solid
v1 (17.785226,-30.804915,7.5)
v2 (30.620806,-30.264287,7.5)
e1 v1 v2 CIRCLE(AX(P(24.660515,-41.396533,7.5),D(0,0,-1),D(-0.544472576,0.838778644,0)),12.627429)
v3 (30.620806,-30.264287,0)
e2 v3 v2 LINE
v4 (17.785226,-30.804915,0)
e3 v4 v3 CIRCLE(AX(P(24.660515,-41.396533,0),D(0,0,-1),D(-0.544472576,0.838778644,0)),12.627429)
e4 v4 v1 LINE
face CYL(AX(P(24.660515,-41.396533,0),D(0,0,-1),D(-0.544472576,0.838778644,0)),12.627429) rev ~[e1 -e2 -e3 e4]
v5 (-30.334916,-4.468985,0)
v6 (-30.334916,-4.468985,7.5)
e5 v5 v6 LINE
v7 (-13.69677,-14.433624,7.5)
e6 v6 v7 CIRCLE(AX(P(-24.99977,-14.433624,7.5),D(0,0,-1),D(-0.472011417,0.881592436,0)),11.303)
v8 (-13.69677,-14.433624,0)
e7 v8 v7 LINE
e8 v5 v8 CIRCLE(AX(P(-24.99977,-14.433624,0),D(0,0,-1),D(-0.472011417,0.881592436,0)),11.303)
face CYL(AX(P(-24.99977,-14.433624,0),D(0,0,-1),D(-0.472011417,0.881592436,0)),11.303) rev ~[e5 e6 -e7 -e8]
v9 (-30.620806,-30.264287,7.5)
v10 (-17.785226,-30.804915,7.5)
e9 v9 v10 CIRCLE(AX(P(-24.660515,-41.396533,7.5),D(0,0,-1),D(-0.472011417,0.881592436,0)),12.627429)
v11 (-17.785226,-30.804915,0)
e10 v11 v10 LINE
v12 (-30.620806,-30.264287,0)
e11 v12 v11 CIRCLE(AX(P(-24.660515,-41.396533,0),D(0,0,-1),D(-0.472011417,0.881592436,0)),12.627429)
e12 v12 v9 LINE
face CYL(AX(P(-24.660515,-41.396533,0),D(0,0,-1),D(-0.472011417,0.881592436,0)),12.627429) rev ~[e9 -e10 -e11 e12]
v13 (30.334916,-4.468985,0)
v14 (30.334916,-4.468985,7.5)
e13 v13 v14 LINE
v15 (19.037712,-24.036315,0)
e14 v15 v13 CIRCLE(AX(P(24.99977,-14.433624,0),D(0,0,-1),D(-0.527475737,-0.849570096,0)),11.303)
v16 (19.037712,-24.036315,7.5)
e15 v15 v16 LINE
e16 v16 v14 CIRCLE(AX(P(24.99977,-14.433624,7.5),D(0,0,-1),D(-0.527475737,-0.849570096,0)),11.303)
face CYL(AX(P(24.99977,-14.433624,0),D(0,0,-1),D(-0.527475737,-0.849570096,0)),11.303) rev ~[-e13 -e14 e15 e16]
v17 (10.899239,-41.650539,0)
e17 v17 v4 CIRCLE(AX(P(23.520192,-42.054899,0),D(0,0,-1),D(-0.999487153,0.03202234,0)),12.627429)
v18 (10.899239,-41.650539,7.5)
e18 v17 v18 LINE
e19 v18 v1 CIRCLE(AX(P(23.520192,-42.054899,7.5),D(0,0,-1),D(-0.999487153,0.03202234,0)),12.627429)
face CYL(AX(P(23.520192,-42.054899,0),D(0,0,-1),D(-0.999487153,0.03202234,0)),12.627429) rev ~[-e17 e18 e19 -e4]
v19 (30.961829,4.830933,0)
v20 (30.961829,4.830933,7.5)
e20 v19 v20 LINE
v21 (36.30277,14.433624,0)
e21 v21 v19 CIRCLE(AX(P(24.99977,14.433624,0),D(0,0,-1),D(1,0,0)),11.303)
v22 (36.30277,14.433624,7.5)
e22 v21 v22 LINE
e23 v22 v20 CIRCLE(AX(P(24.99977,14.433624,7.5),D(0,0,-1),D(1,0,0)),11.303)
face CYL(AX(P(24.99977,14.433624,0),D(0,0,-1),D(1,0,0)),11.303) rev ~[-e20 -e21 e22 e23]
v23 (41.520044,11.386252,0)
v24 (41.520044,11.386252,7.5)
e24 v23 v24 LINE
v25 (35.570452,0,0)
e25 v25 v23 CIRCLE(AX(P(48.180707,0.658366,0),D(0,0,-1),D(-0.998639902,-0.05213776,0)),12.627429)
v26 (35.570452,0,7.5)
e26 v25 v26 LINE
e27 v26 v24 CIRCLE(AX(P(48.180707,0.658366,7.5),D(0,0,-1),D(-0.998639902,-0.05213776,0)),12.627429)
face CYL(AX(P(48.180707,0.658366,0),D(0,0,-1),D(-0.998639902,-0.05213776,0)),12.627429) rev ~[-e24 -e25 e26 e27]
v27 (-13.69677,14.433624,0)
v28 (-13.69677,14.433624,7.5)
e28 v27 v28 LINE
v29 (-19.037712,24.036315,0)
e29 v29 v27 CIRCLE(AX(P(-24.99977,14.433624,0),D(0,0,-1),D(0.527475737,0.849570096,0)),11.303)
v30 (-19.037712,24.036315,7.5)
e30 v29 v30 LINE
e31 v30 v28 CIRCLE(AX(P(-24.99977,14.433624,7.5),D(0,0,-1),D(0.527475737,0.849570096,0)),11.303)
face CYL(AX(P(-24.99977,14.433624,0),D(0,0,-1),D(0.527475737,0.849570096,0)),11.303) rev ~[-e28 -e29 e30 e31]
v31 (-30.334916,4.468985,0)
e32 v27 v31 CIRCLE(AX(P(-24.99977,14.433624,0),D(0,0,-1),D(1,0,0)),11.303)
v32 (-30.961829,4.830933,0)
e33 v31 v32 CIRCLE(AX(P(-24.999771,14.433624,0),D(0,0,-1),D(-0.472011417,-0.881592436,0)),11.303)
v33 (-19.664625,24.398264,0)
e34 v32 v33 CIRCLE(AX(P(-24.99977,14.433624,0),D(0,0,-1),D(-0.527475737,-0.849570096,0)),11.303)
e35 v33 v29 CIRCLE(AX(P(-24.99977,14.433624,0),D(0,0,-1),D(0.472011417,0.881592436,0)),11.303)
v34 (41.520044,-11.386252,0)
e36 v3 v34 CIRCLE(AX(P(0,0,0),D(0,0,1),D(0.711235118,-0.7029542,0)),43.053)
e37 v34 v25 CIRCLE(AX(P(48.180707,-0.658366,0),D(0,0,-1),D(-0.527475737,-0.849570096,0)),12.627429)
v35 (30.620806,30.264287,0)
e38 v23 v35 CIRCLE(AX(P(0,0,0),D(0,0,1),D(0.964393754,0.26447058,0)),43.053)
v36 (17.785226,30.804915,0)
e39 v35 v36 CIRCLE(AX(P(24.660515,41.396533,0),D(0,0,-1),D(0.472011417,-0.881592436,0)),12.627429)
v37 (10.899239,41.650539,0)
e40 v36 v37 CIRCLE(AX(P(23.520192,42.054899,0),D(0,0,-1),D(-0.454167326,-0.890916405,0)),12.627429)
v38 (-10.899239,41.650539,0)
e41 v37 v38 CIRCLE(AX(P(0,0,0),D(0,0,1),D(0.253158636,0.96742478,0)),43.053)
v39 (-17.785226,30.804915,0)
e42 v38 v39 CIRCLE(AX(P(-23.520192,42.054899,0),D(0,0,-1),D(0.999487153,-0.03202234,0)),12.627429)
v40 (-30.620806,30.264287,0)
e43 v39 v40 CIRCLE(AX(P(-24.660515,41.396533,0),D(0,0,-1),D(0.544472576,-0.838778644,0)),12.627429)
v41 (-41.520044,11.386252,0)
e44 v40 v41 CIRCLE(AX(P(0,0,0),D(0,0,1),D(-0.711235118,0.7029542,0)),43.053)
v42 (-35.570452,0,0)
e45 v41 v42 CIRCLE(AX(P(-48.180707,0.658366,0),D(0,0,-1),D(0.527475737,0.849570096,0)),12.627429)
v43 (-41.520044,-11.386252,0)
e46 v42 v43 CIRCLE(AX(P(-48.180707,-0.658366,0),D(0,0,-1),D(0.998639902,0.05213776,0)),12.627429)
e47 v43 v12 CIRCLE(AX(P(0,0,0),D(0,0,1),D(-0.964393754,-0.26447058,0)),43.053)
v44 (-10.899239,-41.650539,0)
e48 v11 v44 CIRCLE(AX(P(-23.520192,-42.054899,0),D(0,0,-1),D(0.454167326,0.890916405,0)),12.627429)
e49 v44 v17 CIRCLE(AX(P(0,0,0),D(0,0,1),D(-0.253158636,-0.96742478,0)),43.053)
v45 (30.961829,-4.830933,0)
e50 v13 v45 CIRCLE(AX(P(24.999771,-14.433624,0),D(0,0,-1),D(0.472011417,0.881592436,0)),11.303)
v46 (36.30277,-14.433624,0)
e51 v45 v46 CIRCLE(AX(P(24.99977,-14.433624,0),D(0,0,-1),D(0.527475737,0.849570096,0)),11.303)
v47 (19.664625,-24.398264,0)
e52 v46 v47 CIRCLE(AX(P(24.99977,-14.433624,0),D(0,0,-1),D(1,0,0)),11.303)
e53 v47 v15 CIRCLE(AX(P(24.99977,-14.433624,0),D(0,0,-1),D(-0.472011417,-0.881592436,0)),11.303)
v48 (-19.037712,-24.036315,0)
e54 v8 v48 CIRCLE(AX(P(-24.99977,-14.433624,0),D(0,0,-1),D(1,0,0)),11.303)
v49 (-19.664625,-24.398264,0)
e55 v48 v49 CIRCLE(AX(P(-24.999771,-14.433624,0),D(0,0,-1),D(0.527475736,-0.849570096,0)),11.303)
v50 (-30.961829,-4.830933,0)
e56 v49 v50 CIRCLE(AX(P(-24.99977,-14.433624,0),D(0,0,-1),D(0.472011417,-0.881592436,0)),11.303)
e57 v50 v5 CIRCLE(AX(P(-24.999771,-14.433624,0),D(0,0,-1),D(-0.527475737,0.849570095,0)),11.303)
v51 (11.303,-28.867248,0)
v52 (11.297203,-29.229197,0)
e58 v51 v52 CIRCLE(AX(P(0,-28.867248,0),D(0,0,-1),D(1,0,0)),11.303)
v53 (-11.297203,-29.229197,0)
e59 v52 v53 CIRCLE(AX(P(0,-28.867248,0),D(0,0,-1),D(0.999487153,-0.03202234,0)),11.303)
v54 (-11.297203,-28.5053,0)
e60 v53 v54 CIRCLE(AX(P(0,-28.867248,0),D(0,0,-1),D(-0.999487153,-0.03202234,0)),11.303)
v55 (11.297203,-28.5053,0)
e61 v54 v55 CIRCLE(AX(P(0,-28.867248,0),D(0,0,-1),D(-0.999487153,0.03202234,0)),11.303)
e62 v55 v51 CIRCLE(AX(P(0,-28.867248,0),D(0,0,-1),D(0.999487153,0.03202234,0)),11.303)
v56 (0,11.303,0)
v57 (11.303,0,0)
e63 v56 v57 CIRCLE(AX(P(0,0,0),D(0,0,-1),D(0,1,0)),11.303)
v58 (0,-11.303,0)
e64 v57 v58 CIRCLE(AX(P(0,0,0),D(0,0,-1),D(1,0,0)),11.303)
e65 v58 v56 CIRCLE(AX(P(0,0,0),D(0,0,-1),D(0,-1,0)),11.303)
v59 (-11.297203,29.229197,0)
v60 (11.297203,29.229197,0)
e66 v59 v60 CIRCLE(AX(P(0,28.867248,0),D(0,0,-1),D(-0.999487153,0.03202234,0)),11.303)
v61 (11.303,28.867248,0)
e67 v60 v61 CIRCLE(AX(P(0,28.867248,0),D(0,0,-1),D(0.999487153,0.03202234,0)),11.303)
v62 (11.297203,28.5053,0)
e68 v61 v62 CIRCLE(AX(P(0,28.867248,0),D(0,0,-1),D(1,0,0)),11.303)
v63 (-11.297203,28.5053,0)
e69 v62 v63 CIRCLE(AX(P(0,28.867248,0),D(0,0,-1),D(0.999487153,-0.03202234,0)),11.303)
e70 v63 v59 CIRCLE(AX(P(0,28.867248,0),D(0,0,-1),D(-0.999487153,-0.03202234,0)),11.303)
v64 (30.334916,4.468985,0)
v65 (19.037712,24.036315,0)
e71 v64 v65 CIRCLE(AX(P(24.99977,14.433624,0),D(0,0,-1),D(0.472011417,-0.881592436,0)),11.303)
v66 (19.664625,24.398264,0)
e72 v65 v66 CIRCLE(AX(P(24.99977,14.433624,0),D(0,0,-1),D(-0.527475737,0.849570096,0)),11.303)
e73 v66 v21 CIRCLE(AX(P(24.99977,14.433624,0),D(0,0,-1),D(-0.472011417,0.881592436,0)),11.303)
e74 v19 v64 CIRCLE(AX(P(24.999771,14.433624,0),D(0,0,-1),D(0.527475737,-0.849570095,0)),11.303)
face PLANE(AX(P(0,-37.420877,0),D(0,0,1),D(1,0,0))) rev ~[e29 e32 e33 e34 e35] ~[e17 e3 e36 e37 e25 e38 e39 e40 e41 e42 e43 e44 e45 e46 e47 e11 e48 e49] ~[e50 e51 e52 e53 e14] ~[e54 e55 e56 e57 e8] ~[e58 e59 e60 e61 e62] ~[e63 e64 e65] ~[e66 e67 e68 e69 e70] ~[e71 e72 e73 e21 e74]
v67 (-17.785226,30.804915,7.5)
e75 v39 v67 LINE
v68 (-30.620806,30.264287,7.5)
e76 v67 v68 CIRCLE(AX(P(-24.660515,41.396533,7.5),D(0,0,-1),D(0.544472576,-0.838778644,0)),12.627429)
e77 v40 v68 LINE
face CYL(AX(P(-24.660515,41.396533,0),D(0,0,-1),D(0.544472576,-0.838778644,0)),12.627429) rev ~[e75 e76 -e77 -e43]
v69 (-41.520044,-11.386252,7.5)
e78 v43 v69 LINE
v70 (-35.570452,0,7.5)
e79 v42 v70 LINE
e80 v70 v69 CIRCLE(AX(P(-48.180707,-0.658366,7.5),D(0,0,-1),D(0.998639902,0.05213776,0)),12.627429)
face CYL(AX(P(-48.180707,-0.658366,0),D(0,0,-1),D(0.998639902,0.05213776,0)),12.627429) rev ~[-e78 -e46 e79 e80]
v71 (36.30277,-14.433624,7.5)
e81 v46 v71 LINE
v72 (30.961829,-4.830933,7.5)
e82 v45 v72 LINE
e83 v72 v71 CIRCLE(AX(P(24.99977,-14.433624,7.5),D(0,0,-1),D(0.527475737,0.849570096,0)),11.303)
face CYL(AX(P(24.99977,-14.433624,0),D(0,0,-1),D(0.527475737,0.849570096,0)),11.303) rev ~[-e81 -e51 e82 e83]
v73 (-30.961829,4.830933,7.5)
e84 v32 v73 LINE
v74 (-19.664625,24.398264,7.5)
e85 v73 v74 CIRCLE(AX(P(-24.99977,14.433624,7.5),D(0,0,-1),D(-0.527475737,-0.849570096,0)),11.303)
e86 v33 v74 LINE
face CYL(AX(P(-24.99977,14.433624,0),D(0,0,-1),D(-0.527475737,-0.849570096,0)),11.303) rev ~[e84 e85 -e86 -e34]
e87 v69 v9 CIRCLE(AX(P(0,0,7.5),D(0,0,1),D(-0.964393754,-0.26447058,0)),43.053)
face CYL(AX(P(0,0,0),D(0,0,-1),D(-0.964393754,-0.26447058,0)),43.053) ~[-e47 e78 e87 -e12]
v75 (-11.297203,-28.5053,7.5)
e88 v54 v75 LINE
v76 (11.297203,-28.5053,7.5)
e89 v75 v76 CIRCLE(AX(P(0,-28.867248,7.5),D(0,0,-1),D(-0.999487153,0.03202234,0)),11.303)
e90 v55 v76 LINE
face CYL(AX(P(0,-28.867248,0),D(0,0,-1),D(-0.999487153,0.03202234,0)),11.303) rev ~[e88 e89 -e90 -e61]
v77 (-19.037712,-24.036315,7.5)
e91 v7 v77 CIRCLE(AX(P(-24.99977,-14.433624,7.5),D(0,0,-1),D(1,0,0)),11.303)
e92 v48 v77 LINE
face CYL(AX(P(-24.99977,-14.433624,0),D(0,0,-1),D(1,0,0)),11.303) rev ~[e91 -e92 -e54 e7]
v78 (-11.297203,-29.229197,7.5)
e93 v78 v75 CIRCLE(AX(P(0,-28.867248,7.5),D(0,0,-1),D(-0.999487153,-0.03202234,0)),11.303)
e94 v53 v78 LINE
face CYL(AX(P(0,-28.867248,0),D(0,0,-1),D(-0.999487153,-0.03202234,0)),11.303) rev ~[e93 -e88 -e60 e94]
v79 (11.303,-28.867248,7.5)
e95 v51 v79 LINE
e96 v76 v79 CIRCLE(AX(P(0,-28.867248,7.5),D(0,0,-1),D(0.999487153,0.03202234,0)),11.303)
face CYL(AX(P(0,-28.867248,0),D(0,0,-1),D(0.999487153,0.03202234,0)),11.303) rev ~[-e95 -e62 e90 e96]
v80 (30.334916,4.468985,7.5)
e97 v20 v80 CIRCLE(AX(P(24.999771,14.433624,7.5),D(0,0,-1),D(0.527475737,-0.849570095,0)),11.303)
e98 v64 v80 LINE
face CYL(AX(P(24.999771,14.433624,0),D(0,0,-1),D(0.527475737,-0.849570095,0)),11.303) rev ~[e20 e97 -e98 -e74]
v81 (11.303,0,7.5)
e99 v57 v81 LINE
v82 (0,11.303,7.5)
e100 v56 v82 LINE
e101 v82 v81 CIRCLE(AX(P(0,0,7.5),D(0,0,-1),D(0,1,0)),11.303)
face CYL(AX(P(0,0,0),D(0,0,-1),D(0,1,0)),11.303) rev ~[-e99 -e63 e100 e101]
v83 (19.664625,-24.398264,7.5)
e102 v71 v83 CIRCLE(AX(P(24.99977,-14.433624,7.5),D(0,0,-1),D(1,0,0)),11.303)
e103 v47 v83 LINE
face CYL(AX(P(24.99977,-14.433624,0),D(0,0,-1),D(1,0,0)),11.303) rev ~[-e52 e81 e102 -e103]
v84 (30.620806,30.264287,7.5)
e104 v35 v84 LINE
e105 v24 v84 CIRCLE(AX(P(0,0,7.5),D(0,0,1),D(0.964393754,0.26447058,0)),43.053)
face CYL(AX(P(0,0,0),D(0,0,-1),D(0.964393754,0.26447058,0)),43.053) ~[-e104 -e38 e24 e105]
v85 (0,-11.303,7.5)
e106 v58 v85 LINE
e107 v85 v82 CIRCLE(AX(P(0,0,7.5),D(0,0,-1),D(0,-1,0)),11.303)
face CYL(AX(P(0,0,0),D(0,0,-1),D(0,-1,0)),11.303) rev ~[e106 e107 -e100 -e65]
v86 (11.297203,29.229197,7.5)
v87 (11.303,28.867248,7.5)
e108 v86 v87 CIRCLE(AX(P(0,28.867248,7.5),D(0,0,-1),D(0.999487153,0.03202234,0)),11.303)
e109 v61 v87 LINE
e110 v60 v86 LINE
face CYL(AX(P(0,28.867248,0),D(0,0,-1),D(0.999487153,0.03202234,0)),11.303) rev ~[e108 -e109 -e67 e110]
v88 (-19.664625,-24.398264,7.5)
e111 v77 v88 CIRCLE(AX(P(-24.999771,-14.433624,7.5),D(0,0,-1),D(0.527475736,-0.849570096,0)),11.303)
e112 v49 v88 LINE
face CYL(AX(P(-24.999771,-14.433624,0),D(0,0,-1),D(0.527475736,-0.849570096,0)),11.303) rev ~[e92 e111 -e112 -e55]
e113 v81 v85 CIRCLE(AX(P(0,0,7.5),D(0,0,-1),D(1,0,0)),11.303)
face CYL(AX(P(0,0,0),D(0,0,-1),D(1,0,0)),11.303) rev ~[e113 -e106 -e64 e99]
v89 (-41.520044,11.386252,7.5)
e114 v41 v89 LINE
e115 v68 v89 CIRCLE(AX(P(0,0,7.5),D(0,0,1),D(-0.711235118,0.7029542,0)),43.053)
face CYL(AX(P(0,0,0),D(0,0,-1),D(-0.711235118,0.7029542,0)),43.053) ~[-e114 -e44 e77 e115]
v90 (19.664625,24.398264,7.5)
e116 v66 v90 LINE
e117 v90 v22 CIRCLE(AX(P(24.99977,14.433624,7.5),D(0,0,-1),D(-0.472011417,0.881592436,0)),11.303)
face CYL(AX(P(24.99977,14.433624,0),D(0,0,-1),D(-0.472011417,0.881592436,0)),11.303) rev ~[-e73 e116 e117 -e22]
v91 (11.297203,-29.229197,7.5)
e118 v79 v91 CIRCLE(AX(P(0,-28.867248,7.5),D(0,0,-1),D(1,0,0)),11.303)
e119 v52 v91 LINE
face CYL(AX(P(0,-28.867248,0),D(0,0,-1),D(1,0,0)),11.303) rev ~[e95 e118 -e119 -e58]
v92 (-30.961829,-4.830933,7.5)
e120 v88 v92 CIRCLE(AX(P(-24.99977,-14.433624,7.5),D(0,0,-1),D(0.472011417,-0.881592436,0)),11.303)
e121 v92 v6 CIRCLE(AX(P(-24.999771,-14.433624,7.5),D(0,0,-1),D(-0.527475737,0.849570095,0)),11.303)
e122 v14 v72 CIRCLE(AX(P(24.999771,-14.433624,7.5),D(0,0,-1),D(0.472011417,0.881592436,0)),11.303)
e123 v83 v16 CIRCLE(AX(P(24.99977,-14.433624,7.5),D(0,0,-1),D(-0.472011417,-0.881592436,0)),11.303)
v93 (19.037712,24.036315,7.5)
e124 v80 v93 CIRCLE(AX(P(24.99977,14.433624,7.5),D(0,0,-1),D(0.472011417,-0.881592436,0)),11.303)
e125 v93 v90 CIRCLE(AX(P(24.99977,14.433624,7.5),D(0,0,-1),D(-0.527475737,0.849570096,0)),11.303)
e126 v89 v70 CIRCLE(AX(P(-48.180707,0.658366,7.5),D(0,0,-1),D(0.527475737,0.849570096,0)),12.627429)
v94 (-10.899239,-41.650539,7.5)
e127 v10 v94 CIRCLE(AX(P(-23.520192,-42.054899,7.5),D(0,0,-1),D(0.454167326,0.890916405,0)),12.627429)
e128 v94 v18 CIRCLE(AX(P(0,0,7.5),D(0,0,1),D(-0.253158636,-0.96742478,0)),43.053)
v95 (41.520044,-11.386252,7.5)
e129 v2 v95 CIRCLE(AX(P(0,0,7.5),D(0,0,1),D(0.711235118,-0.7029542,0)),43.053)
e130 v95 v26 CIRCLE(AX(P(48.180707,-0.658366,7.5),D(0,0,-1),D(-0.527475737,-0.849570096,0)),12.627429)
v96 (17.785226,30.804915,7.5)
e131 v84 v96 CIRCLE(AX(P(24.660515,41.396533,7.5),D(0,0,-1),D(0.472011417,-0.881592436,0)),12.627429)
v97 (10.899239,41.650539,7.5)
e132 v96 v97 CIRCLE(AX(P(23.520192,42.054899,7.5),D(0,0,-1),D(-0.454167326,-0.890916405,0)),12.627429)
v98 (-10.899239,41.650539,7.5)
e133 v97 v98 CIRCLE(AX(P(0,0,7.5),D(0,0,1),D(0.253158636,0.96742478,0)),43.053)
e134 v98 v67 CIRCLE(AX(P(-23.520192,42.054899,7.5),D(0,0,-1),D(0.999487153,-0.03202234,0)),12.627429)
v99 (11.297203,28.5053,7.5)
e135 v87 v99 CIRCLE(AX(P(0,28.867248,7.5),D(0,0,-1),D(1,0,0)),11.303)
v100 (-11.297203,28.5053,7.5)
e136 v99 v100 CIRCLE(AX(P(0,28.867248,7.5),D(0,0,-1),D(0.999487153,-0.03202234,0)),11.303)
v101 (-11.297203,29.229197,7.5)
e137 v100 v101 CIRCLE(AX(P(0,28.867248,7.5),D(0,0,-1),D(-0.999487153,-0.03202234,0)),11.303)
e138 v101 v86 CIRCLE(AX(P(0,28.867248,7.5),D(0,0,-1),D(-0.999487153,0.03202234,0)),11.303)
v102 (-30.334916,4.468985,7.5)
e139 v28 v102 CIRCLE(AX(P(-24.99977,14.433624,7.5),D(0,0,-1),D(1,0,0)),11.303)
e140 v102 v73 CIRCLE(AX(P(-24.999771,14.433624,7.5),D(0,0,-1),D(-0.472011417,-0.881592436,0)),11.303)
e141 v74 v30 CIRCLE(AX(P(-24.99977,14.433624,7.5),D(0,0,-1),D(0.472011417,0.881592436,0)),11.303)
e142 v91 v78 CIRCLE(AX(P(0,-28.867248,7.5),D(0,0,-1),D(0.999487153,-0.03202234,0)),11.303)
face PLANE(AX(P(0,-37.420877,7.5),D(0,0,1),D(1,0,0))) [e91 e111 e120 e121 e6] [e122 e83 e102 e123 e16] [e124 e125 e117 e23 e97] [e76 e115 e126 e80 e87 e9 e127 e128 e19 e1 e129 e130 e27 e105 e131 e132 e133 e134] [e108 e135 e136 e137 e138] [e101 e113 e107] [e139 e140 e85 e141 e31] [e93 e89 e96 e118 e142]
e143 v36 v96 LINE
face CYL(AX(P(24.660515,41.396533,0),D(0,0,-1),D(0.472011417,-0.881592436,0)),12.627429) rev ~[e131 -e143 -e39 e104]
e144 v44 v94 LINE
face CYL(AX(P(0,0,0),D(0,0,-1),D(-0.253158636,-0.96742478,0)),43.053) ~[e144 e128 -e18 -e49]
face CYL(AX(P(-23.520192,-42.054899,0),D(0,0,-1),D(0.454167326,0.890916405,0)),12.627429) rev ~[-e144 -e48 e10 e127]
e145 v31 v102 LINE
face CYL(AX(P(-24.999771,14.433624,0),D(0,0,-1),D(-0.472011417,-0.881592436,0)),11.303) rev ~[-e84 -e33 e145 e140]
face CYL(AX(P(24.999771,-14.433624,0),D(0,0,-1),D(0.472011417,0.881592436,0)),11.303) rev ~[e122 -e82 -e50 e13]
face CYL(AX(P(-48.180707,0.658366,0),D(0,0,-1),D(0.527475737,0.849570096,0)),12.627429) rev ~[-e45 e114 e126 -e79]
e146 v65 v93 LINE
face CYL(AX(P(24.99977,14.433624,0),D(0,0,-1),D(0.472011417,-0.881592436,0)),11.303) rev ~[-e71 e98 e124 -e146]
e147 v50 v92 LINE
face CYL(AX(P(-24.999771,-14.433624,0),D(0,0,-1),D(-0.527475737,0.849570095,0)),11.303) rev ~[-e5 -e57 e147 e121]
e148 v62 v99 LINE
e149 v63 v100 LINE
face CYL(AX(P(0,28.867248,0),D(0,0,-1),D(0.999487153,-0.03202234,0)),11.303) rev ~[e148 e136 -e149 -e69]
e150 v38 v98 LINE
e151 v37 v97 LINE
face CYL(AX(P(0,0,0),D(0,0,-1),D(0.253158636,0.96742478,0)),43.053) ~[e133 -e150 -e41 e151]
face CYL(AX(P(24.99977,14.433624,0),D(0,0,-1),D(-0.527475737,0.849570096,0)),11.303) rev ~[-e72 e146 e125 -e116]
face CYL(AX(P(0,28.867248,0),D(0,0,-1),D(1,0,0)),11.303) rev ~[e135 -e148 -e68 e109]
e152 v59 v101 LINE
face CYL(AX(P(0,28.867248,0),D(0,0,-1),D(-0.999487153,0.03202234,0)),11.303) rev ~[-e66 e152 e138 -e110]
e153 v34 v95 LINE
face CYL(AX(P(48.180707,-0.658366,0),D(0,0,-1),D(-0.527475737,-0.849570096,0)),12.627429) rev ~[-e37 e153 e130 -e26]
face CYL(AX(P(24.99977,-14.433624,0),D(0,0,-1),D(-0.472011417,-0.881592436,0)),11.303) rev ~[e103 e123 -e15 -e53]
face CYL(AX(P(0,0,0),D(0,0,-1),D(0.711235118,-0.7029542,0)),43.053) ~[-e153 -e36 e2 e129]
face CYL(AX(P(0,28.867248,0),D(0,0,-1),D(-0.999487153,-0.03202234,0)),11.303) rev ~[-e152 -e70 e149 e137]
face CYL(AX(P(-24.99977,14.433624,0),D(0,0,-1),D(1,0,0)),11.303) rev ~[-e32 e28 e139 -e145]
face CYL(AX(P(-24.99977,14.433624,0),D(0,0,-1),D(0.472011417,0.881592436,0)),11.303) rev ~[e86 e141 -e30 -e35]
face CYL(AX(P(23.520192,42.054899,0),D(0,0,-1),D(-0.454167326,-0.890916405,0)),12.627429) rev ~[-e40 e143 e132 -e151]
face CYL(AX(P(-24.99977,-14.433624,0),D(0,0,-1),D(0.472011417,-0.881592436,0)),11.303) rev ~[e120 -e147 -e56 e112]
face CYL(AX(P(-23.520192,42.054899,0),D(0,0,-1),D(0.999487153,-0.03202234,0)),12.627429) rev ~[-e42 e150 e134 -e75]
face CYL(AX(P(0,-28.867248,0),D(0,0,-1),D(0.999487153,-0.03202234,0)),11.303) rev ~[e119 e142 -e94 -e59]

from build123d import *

# Parameters (mm, degrees)
F1_DEPTH = 7.5


with BuildPart() as f1:
    # F0 (on Top) → F1 (new body)
    with BuildSketch(Plane.XY):
        with BuildLine():
            Line((10.8992387595, -41.6505390537), (11.2972032945, -29.229196955))
            ThreePointArc((11.2972032945, -29.229196955), (0, -40.1702484457), (-11.2972032945, -29.229196955))
            Line((-11.2972032945, -29.229196955), (-10.8992387595, -41.6505390537))
            ThreePointArc((-10.8992387595, -41.6505390537), (0, -43.053), (10.8992387595, -41.6505390537))
        make_face()
        with BuildLine():
            Line((11.2972032945, -19.5673300895), (3.0451878052, -14.8030267253))
            ThreePointArc((3.0451878052, -14.8030267253), (0, -15.113), (-3.0451878052, -14.8030267253))
            Line((-3.0451878052, -14.8030267253), (-11.2972032945, -19.5673300895))
            Line((-11.2972032945, -19.5673300895), (-11.2972032945, -28.5052999365))
            ThreePointArc((-11.2972032945, -28.5052999365), (0, -17.5642484457), (11.2972032945, -28.5052999365))
            Line((11.2972032945, -28.5052999365), (11.2972032945, -19.5673300895))
        make_face()
        with BuildLine():
            Line((-11.2972032945, -28.5052999365), (-11.2972032945, -19.5673300895))
            Line((-11.2972032945, -19.5673300895), (-19.0377122402, -24.036315013))
            ThreePointArc((-19.0377122402, -24.036315013), (-19.3482704914, -24.2223093618), (-19.664625448, -24.3982635222))
            Line((-19.664625448, -24.3982635222), (-30.6208055221, -30.2642871745))
            ThreePointArc((-30.6208055221, -30.2642871745), (-24.1291251272, -28.7802900435), (-17.7852261309, -30.8049152829))
            ThreePointArc((-17.7852261309, -30.8049152829), (-12.8598997424, -35.286580353), (-10.8992387595, -41.6505390537))
            Line((-10.8992387595, -41.6505390537), (-11.2972032945, -29.229196955))
            ThreePointArc((-11.2972032945, -29.229196955), (-11.303, -28.8672484457), (-11.2972032945, -28.5052999365))
        make_face()
        with BuildLine():
            Line((-11.2972032945, -19.5673300895), (-3.0451878052, -14.8030267253))
            ThreePointArc((-3.0451878052, -14.8030267253), (-7.5565, -13.0882419274), (-11.2972032945, -10.0387233612))
            Line((-11.2972032945, -10.0387233612), (-11.2972032945, -19.5673300895))
        make_face()
        with BuildLine():
            Line((11.2972032945, -19.5673300895), (11.2972032945, -10.0387233612))
            ThreePointArc((11.2972032945, -10.0387233612), (7.5565, -13.0882419274), (3.0451878052, -14.8030267253))
            Line((3.0451878052, -14.8030267253), (11.2972032945, -19.5673300895))
        make_face()
        with BuildLine():
            ThreePointArc((14.3423910996, -4.7643033641), (14.9191039558, -2.413111302), (15.113, 0))
            ThreePointArc((15.113, 0), (14.9191039558, 2.413111302), (14.3423910996, 4.7643033641))
            ThreePointArc((14.3423910996, 4.7643033641), (13.0882419274, 7.5565), (11.2972032945, 10.0387233612))
            ThreePointArc((11.2972032945, 10.0387233612), (7.5565, 13.0882419274), (3.0451878052, 14.8030267253))
            ThreePointArc((3.0451878052, 14.8030267253), (0, 15.113), (-3.0451878052, 14.8030267253))
            ThreePointArc((-3.0451878052, 14.8030267253), (-7.5565, 13.0882419274), (-11.2972032945, 10.0387233612))
            ThreePointArc((-11.2972032945, 10.0387233612), (-13.0882419274, 7.5565), (-14.3423910996, 4.7643033641))
            ThreePointArc((-14.3423910996, 4.7643033641), (-15.113, 0), (-14.3423910996, -4.7643033641))
            ThreePointArc((-14.3423910996, -4.7643033641), (-13.0882419274, -7.5565), (-11.2972032945, -10.0387233612))
            ThreePointArc((-11.2972032945, -10.0387233612), (-7.5565, -13.0882419274), (-3.0451878052, -14.8030267253))
            ThreePointArc((-3.0451878052, -14.8030267253), (0, -15.113), (3.0451878052, -14.8030267253))
            ThreePointArc((3.0451878052, -14.8030267253), (7.5565, -13.0882419274), (11.2972032945, -10.0387233612))
            ThreePointArc((11.2972032945, -10.0387233612), (13.0882419274, -7.5565), (14.3423910996, -4.7643033641))
        make_face()
        with BuildLine():
            ThreePointArc((0, 11.303), (7.9924279478, 7.9924279478), (11.303, 0))
            ThreePointArc((11.303, 0), (7.9924279478, -7.9924279478), (0, -11.303))
            ThreePointArc((0, -11.303), (-11.303, 0), (0, 11.303))
        make_face(mode=Mode.SUBTRACT)
        with BuildLine():
            Line((-11.2972032945, -19.5673300895), (-11.2972032945, -10.0387233612))
            ThreePointArc((-11.2972032945, -10.0387233612), (-13.0882419274, -7.5565), (-14.3423910996, -4.7643033641))
            Line((-14.3423910996, -4.7643033641), (-22.5944065889, 0))
            Line((-22.5944065889, 0), (-30.3349155347, -4.4689849235))
            ThreePointArc((-30.3349155347, -4.4689849235), (-19.1922467258, -4.736692919), (-13.6967704914, -14.4336242229))
            ThreePointArc((-13.6967704914, -14.4336242229), (-15.1218417254, -19.927651188), (-19.0377122402, -24.036315013))
            Line((-19.0377122402, -24.036315013), (-11.2972032945, -19.5673300895))
        make_face()
        with BuildLine():
            Line((19.0377122402, -24.036315013), (11.2972032945, -19.5673300895))
            Line((11.2972032945, -19.5673300895), (11.2972032945, -28.5052999365))
            ThreePointArc((11.2972032945, -28.5052999365), (11.3015507307, -28.6862509836), (11.303, -28.8672484457))
            ThreePointArc((11.303, -28.8672484457), (11.3015507307, -29.0482459079), (11.2972032945, -29.229196955))
            Line((11.2972032945, -29.229196955), (10.8992387595, -41.6505390537))
            ThreePointArc((10.8992387595, -41.6505390537), (12.8598997424, -35.286580353), (17.7852261309, -30.8049152829))
            ThreePointArc((17.7852261309, -30.8049152829), (24.1291251272, -28.7802900435), (30.6208055221, -30.2642871745))
            Line((30.6208055221, -30.2642871745), (19.664625448, -24.3982635222))
            ThreePointArc((19.664625448, -24.3982635222), (19.3482704914, -24.2223093619), (19.0377122402, -24.036315013))
        make_face()
        with BuildLine():
            Line((22.5944065889, 0), (14.3423910996, -4.7643033641))
            ThreePointArc((14.3423910996, -4.7643033641), (13.0882419274, -7.5565), (11.2972032945, -10.0387233612))
            Line((11.2972032945, -10.0387233612), (11.2972032945, -19.5673300895))
            Line((11.2972032945, -19.5673300895), (19.0377122402, -24.036315013))
            ThreePointArc((19.0377122402, -24.036315013), (15.2110853524, -8.7821242229), (30.3349155347, -4.4689849235))
            Line((30.3349155347, -4.4689849235), (22.5944065889, 0))
        make_face()
        with BuildLine():
            Line((41.5200442816, -11.3862518792), (30.9618287425, -4.8309334328))
            ThreePointArc((30.9618287425, -4.8309334328), (34.8776992574, -8.9395972577), (36.3027704914, -14.4336242229))
            ThreePointArc((36.3027704914, -14.4336242229), (30.8072942569, -24.1305555268), (19.664625448, -24.3982635222))
            Line((19.664625448, -24.3982635222), (30.6208055221, -30.2642871745))
            ThreePointArc((30.6208055221, -30.2642871745), (37.2849917091, -21.5265), (41.5200442816, -11.3862518792))
        make_face()
        with BuildLine():
            Line((-30.6208055221, -30.2642871745), (-19.664625448, -24.3982635222))
            ThreePointArc((-19.664625448, -24.3982635222), (-34.7884556304, -20.0851242229), (-30.9618287425, -4.8309334328))
            Line((-30.9618287425, -4.8309334328), (-41.5200442816, -11.3862518792))
            ThreePointArc((-41.5200442816, -11.3862518792), (-37.2849917091, -21.5265), (-30.6208055221, -30.2642871745))
        make_face()
        with BuildLine():
            Line((-30.3349155347, -4.4689849235), (-22.5944065889, 0))
            Line((-22.5944065889, 0), (-30.3349155347, 4.4689849235))
            ThreePointArc((-30.3349155347, 4.4689849235), (-30.6512704914, 4.6449390839), (-30.9618287425, 4.8309334328))
            Line((-30.9618287425, 4.8309334328), (-41.5200442816, 11.3862518792))
            ThreePointArc((-41.5200442816, 11.3862518792), (-36.9890248695, 6.5062903095), (-35.5704522619, 0))
            ThreePointArc((-35.5704522619, 0), (-36.9890248695, -6.5062903095), (-41.5200442816, -11.3862518792))
            Line((-41.5200442816, -11.3862518792), (-30.9618287425, -4.8309334328))
            ThreePointArc((-30.9618287425, -4.8309334328), (-30.6512704914, -4.6449390839), (-30.3349155347, -4.4689849235))
        make_face()
        with BuildLine():
            ThreePointArc((-14.3423910996, -4.7643033641), (-15.113, 0), (-14.3423910996, 4.7643033641))
            Line((-14.3423910996, 4.7643033641), (-22.5944065889, 0))
            Line((-22.5944065889, 0), (-14.3423910996, -4.7643033641))
        make_face()
        with BuildLine():
            ThreePointArc((-14.3423910996, 4.7643033641), (-13.0882419274, 7.5565), (-11.2972032945, 10.0387233612))
            Line((-11.2972032945, 10.0387233612), (-11.2972032945, 19.5673300895))
            Line((-11.2972032945, 19.5673300895), (-19.0377122402, 24.036315013))
            ThreePointArc((-19.0377122402, 24.036315013), (-15.1218417254, 19.927651188), (-13.6967704914, 14.4336242229))
            ThreePointArc((-13.6967704914, 14.4336242229), (-19.1922467258, 4.736692919), (-30.3349155347, 4.4689849235))
            Line((-30.3349155347, 4.4689849235), (-22.5944065889, 0))
            Line((-22.5944065889, 0), (-14.3423910996, 4.7643033641))
        make_face()
        with BuildLine():
            ThreePointArc((-30.9618287425, 4.8309334328), (-34.7884556304, 20.0851242229), (-19.664625448, 24.3982635222))
            Line((-19.664625448, 24.3982635222), (-30.6208055221, 30.2642871745))
            ThreePointArc((-30.6208055221, 30.2642871745), (-37.2849917091, 21.5265), (-41.5200442816, 11.3862518792))
            Line((-41.5200442816, 11.3862518792), (-30.9618287425, 4.8309334328))
        make_face()
        with BuildLine():
            Line((30.3349155347, 4.4689849235), (22.5944065889, 0))
            Line((22.5944065889, 0), (30.3349155347, -4.4689849235))
            ThreePointArc((30.3349155347, -4.4689849235), (30.6512704914, -4.6449390839), (30.9618287425, -4.8309334328))
            Line((30.9618287425, -4.8309334328), (41.5200442816, -11.3862518792))
            ThreePointArc((41.5200442816, -11.3862518792), (36.9890248695, -6.5062903095), (35.5704522619, 0))
            ThreePointArc((35.5704522619, 0), (36.9890248695, 6.5062903095), (41.5200442816, 11.3862518792))
            Line((41.5200442816, 11.3862518792), (30.9618287425, 4.8309334328))
            ThreePointArc((30.9618287425, 4.8309334328), (30.6512704914, 4.6449390839), (30.3349155347, 4.4689849235))
        make_face()
        with BuildLine():
            ThreePointArc((14.3423910996, 4.7643033641), (14.9191039558, 2.413111302), (15.113, 0))
            ThreePointArc((15.113, 0), (14.9191039558, -2.413111302), (14.3423910996, -4.7643033641))
            Line((14.3423910996, -4.7643033641), (22.5944065889, 0))
            Line((22.5944065889, 0), (14.3423910996, 4.7643033641))
        make_face()
        with BuildLine():
            ThreePointArc((11.2972032945, 10.0387233612), (13.0882419274, 7.5565), (14.3423910996, 4.7643033641))
            Line((14.3423910996, 4.7643033641), (22.5944065889, 0))
            Line((22.5944065889, 0), (30.3349155347, 4.4689849235))
            ThreePointArc((30.3349155347, 4.4689849235), (15.2110853524, 8.7821242229), (19.0377122402, 24.036315013))
            Line((19.0377122402, 24.036315013), (11.2972032945, 19.5673300895))
            Line((11.2972032945, 19.5673300895), (11.2972032945, 10.0387233612))
        make_face()
        with BuildLine():
            ThreePointArc((36.3027704914, 14.4336242229), (34.8776992574, 8.9395972577), (30.9618287425, 4.8309334328))
            Line((30.9618287425, 4.8309334328), (41.5200442816, 11.3862518792))
            ThreePointArc((41.5200442816, 11.3862518792), (37.2849917091, 21.5265), (30.6208055221, 30.2642871745))
            Line((30.6208055221, 30.2642871745), (19.664625448, 24.3982635222))
            ThreePointArc((19.664625448, 24.3982635222), (30.8072942569, 24.1305555268), (36.3027704914, 14.4336242229))
        make_face()
        with BuildLine():
            ThreePointArc((3.0451878052, 14.8030267253), (7.5565, 13.0882419274), (11.2972032945, 10.0387233612))
            Line((11.2972032945, 10.0387233612), (11.2972032945, 19.5673300895))
            Line((11.2972032945, 19.5673300895), (3.0451878052, 14.8030267253))
        make_face()
        with BuildLine():
            ThreePointArc((-11.2972032945, 10.0387233612), (-7.5565, 13.0882419274), (-3.0451878052, 14.8030267253))
            Line((-3.0451878052, 14.8030267253), (-11.2972032945, 19.5673300895))
            Line((-11.2972032945, 19.5673300895), (-11.2972032945, 10.0387233612))
        make_face()
        with BuildLine():
            ThreePointArc((-3.0451878052, 14.8030267253), (0, 15.113), (3.0451878052, 14.8030267253))
            Line((3.0451878052, 14.8030267253), (11.2972032945, 19.5673300895))
            Line((11.2972032945, 19.5673300895), (11.2972032945, 28.5052999365))
            ThreePointArc((11.2972032945, 28.5052999365), (0, 17.5642484457), (-11.2972032945, 28.5052999365))
            Line((-11.2972032945, 28.5052999365), (-11.2972032945, 19.5673300895))
            Line((-11.2972032945, 19.5673300895), (-3.0451878052, 14.8030267253))
        make_face()
        with BuildLine():
            ThreePointArc((-11.2972032945, 29.229196955), (0, 40.1702484457), (11.2972032945, 29.229196955))
            Line((11.2972032945, 29.229196955), (10.8992387595, 41.6505390537))
            ThreePointArc((10.8992387595, 41.6505390537), (0, 43.053), (-10.8992387595, 41.6505390537))
            Line((-10.8992387595, 41.6505390537), (-11.2972032945, 29.229196955))
        make_face()
        with BuildLine():
            Line((-19.0377122402, 24.036315013), (-11.2972032945, 19.5673300895))
            Line((-11.2972032945, 19.5673300895), (-11.2972032945, 28.5052999365))
            ThreePointArc((-11.2972032945, 28.5052999365), (-11.303, 28.8672484457), (-11.2972032945, 29.229196955))
            Line((-11.2972032945, 29.229196955), (-10.8992387595, 41.6505390537))
            ThreePointArc((-10.8992387595, 41.6505390537), (-12.8598997424, 35.286580353), (-17.7852261309, 30.8049152829))
            ThreePointArc((-17.7852261309, 30.8049152829), (-24.1291251272, 28.7802900435), (-30.6208055221, 30.2642871745))
            Line((-30.6208055221, 30.2642871745), (-19.664625448, 24.3982635222))
            ThreePointArc((-19.664625448, 24.3982635222), (-19.3482704914, 24.2223093619), (-19.0377122402, 24.036315013))
        make_face()
        with BuildLine():
            Line((11.2972032945, 28.5052999365), (11.2972032945, 19.5673300895))
            Line((11.2972032945, 19.5673300895), (19.0377122402, 24.036315013))
            ThreePointArc((19.0377122402, 24.036315013), (19.3482704914, 24.2223093619), (19.664625448, 24.3982635222))
            Line((19.664625448, 24.3982635222), (30.6208055221, 30.2642871745))
            ThreePointArc((30.6208055221, 30.2642871745), (24.1291251272, 28.7802900435), (17.7852261309, 30.8049152829))
            ThreePointArc((17.7852261309, 30.8049152829), (12.8598997424, 35.286580353), (10.8992387595, 41.6505390537))
            Line((10.8992387595, 41.6505390537), (11.2972032945, 29.229196955))
            ThreePointArc((11.2972032945, 29.229196955), (11.3015507307, 29.0482459079), (11.303, 28.8672484457))
            ThreePointArc((11.303, 28.8672484457), (11.3015507307, 28.6862509836), (11.2972032945, 28.5052999365))
        make_face()
    extrude(amount=F1_DEPTH)


solid = f1.part
